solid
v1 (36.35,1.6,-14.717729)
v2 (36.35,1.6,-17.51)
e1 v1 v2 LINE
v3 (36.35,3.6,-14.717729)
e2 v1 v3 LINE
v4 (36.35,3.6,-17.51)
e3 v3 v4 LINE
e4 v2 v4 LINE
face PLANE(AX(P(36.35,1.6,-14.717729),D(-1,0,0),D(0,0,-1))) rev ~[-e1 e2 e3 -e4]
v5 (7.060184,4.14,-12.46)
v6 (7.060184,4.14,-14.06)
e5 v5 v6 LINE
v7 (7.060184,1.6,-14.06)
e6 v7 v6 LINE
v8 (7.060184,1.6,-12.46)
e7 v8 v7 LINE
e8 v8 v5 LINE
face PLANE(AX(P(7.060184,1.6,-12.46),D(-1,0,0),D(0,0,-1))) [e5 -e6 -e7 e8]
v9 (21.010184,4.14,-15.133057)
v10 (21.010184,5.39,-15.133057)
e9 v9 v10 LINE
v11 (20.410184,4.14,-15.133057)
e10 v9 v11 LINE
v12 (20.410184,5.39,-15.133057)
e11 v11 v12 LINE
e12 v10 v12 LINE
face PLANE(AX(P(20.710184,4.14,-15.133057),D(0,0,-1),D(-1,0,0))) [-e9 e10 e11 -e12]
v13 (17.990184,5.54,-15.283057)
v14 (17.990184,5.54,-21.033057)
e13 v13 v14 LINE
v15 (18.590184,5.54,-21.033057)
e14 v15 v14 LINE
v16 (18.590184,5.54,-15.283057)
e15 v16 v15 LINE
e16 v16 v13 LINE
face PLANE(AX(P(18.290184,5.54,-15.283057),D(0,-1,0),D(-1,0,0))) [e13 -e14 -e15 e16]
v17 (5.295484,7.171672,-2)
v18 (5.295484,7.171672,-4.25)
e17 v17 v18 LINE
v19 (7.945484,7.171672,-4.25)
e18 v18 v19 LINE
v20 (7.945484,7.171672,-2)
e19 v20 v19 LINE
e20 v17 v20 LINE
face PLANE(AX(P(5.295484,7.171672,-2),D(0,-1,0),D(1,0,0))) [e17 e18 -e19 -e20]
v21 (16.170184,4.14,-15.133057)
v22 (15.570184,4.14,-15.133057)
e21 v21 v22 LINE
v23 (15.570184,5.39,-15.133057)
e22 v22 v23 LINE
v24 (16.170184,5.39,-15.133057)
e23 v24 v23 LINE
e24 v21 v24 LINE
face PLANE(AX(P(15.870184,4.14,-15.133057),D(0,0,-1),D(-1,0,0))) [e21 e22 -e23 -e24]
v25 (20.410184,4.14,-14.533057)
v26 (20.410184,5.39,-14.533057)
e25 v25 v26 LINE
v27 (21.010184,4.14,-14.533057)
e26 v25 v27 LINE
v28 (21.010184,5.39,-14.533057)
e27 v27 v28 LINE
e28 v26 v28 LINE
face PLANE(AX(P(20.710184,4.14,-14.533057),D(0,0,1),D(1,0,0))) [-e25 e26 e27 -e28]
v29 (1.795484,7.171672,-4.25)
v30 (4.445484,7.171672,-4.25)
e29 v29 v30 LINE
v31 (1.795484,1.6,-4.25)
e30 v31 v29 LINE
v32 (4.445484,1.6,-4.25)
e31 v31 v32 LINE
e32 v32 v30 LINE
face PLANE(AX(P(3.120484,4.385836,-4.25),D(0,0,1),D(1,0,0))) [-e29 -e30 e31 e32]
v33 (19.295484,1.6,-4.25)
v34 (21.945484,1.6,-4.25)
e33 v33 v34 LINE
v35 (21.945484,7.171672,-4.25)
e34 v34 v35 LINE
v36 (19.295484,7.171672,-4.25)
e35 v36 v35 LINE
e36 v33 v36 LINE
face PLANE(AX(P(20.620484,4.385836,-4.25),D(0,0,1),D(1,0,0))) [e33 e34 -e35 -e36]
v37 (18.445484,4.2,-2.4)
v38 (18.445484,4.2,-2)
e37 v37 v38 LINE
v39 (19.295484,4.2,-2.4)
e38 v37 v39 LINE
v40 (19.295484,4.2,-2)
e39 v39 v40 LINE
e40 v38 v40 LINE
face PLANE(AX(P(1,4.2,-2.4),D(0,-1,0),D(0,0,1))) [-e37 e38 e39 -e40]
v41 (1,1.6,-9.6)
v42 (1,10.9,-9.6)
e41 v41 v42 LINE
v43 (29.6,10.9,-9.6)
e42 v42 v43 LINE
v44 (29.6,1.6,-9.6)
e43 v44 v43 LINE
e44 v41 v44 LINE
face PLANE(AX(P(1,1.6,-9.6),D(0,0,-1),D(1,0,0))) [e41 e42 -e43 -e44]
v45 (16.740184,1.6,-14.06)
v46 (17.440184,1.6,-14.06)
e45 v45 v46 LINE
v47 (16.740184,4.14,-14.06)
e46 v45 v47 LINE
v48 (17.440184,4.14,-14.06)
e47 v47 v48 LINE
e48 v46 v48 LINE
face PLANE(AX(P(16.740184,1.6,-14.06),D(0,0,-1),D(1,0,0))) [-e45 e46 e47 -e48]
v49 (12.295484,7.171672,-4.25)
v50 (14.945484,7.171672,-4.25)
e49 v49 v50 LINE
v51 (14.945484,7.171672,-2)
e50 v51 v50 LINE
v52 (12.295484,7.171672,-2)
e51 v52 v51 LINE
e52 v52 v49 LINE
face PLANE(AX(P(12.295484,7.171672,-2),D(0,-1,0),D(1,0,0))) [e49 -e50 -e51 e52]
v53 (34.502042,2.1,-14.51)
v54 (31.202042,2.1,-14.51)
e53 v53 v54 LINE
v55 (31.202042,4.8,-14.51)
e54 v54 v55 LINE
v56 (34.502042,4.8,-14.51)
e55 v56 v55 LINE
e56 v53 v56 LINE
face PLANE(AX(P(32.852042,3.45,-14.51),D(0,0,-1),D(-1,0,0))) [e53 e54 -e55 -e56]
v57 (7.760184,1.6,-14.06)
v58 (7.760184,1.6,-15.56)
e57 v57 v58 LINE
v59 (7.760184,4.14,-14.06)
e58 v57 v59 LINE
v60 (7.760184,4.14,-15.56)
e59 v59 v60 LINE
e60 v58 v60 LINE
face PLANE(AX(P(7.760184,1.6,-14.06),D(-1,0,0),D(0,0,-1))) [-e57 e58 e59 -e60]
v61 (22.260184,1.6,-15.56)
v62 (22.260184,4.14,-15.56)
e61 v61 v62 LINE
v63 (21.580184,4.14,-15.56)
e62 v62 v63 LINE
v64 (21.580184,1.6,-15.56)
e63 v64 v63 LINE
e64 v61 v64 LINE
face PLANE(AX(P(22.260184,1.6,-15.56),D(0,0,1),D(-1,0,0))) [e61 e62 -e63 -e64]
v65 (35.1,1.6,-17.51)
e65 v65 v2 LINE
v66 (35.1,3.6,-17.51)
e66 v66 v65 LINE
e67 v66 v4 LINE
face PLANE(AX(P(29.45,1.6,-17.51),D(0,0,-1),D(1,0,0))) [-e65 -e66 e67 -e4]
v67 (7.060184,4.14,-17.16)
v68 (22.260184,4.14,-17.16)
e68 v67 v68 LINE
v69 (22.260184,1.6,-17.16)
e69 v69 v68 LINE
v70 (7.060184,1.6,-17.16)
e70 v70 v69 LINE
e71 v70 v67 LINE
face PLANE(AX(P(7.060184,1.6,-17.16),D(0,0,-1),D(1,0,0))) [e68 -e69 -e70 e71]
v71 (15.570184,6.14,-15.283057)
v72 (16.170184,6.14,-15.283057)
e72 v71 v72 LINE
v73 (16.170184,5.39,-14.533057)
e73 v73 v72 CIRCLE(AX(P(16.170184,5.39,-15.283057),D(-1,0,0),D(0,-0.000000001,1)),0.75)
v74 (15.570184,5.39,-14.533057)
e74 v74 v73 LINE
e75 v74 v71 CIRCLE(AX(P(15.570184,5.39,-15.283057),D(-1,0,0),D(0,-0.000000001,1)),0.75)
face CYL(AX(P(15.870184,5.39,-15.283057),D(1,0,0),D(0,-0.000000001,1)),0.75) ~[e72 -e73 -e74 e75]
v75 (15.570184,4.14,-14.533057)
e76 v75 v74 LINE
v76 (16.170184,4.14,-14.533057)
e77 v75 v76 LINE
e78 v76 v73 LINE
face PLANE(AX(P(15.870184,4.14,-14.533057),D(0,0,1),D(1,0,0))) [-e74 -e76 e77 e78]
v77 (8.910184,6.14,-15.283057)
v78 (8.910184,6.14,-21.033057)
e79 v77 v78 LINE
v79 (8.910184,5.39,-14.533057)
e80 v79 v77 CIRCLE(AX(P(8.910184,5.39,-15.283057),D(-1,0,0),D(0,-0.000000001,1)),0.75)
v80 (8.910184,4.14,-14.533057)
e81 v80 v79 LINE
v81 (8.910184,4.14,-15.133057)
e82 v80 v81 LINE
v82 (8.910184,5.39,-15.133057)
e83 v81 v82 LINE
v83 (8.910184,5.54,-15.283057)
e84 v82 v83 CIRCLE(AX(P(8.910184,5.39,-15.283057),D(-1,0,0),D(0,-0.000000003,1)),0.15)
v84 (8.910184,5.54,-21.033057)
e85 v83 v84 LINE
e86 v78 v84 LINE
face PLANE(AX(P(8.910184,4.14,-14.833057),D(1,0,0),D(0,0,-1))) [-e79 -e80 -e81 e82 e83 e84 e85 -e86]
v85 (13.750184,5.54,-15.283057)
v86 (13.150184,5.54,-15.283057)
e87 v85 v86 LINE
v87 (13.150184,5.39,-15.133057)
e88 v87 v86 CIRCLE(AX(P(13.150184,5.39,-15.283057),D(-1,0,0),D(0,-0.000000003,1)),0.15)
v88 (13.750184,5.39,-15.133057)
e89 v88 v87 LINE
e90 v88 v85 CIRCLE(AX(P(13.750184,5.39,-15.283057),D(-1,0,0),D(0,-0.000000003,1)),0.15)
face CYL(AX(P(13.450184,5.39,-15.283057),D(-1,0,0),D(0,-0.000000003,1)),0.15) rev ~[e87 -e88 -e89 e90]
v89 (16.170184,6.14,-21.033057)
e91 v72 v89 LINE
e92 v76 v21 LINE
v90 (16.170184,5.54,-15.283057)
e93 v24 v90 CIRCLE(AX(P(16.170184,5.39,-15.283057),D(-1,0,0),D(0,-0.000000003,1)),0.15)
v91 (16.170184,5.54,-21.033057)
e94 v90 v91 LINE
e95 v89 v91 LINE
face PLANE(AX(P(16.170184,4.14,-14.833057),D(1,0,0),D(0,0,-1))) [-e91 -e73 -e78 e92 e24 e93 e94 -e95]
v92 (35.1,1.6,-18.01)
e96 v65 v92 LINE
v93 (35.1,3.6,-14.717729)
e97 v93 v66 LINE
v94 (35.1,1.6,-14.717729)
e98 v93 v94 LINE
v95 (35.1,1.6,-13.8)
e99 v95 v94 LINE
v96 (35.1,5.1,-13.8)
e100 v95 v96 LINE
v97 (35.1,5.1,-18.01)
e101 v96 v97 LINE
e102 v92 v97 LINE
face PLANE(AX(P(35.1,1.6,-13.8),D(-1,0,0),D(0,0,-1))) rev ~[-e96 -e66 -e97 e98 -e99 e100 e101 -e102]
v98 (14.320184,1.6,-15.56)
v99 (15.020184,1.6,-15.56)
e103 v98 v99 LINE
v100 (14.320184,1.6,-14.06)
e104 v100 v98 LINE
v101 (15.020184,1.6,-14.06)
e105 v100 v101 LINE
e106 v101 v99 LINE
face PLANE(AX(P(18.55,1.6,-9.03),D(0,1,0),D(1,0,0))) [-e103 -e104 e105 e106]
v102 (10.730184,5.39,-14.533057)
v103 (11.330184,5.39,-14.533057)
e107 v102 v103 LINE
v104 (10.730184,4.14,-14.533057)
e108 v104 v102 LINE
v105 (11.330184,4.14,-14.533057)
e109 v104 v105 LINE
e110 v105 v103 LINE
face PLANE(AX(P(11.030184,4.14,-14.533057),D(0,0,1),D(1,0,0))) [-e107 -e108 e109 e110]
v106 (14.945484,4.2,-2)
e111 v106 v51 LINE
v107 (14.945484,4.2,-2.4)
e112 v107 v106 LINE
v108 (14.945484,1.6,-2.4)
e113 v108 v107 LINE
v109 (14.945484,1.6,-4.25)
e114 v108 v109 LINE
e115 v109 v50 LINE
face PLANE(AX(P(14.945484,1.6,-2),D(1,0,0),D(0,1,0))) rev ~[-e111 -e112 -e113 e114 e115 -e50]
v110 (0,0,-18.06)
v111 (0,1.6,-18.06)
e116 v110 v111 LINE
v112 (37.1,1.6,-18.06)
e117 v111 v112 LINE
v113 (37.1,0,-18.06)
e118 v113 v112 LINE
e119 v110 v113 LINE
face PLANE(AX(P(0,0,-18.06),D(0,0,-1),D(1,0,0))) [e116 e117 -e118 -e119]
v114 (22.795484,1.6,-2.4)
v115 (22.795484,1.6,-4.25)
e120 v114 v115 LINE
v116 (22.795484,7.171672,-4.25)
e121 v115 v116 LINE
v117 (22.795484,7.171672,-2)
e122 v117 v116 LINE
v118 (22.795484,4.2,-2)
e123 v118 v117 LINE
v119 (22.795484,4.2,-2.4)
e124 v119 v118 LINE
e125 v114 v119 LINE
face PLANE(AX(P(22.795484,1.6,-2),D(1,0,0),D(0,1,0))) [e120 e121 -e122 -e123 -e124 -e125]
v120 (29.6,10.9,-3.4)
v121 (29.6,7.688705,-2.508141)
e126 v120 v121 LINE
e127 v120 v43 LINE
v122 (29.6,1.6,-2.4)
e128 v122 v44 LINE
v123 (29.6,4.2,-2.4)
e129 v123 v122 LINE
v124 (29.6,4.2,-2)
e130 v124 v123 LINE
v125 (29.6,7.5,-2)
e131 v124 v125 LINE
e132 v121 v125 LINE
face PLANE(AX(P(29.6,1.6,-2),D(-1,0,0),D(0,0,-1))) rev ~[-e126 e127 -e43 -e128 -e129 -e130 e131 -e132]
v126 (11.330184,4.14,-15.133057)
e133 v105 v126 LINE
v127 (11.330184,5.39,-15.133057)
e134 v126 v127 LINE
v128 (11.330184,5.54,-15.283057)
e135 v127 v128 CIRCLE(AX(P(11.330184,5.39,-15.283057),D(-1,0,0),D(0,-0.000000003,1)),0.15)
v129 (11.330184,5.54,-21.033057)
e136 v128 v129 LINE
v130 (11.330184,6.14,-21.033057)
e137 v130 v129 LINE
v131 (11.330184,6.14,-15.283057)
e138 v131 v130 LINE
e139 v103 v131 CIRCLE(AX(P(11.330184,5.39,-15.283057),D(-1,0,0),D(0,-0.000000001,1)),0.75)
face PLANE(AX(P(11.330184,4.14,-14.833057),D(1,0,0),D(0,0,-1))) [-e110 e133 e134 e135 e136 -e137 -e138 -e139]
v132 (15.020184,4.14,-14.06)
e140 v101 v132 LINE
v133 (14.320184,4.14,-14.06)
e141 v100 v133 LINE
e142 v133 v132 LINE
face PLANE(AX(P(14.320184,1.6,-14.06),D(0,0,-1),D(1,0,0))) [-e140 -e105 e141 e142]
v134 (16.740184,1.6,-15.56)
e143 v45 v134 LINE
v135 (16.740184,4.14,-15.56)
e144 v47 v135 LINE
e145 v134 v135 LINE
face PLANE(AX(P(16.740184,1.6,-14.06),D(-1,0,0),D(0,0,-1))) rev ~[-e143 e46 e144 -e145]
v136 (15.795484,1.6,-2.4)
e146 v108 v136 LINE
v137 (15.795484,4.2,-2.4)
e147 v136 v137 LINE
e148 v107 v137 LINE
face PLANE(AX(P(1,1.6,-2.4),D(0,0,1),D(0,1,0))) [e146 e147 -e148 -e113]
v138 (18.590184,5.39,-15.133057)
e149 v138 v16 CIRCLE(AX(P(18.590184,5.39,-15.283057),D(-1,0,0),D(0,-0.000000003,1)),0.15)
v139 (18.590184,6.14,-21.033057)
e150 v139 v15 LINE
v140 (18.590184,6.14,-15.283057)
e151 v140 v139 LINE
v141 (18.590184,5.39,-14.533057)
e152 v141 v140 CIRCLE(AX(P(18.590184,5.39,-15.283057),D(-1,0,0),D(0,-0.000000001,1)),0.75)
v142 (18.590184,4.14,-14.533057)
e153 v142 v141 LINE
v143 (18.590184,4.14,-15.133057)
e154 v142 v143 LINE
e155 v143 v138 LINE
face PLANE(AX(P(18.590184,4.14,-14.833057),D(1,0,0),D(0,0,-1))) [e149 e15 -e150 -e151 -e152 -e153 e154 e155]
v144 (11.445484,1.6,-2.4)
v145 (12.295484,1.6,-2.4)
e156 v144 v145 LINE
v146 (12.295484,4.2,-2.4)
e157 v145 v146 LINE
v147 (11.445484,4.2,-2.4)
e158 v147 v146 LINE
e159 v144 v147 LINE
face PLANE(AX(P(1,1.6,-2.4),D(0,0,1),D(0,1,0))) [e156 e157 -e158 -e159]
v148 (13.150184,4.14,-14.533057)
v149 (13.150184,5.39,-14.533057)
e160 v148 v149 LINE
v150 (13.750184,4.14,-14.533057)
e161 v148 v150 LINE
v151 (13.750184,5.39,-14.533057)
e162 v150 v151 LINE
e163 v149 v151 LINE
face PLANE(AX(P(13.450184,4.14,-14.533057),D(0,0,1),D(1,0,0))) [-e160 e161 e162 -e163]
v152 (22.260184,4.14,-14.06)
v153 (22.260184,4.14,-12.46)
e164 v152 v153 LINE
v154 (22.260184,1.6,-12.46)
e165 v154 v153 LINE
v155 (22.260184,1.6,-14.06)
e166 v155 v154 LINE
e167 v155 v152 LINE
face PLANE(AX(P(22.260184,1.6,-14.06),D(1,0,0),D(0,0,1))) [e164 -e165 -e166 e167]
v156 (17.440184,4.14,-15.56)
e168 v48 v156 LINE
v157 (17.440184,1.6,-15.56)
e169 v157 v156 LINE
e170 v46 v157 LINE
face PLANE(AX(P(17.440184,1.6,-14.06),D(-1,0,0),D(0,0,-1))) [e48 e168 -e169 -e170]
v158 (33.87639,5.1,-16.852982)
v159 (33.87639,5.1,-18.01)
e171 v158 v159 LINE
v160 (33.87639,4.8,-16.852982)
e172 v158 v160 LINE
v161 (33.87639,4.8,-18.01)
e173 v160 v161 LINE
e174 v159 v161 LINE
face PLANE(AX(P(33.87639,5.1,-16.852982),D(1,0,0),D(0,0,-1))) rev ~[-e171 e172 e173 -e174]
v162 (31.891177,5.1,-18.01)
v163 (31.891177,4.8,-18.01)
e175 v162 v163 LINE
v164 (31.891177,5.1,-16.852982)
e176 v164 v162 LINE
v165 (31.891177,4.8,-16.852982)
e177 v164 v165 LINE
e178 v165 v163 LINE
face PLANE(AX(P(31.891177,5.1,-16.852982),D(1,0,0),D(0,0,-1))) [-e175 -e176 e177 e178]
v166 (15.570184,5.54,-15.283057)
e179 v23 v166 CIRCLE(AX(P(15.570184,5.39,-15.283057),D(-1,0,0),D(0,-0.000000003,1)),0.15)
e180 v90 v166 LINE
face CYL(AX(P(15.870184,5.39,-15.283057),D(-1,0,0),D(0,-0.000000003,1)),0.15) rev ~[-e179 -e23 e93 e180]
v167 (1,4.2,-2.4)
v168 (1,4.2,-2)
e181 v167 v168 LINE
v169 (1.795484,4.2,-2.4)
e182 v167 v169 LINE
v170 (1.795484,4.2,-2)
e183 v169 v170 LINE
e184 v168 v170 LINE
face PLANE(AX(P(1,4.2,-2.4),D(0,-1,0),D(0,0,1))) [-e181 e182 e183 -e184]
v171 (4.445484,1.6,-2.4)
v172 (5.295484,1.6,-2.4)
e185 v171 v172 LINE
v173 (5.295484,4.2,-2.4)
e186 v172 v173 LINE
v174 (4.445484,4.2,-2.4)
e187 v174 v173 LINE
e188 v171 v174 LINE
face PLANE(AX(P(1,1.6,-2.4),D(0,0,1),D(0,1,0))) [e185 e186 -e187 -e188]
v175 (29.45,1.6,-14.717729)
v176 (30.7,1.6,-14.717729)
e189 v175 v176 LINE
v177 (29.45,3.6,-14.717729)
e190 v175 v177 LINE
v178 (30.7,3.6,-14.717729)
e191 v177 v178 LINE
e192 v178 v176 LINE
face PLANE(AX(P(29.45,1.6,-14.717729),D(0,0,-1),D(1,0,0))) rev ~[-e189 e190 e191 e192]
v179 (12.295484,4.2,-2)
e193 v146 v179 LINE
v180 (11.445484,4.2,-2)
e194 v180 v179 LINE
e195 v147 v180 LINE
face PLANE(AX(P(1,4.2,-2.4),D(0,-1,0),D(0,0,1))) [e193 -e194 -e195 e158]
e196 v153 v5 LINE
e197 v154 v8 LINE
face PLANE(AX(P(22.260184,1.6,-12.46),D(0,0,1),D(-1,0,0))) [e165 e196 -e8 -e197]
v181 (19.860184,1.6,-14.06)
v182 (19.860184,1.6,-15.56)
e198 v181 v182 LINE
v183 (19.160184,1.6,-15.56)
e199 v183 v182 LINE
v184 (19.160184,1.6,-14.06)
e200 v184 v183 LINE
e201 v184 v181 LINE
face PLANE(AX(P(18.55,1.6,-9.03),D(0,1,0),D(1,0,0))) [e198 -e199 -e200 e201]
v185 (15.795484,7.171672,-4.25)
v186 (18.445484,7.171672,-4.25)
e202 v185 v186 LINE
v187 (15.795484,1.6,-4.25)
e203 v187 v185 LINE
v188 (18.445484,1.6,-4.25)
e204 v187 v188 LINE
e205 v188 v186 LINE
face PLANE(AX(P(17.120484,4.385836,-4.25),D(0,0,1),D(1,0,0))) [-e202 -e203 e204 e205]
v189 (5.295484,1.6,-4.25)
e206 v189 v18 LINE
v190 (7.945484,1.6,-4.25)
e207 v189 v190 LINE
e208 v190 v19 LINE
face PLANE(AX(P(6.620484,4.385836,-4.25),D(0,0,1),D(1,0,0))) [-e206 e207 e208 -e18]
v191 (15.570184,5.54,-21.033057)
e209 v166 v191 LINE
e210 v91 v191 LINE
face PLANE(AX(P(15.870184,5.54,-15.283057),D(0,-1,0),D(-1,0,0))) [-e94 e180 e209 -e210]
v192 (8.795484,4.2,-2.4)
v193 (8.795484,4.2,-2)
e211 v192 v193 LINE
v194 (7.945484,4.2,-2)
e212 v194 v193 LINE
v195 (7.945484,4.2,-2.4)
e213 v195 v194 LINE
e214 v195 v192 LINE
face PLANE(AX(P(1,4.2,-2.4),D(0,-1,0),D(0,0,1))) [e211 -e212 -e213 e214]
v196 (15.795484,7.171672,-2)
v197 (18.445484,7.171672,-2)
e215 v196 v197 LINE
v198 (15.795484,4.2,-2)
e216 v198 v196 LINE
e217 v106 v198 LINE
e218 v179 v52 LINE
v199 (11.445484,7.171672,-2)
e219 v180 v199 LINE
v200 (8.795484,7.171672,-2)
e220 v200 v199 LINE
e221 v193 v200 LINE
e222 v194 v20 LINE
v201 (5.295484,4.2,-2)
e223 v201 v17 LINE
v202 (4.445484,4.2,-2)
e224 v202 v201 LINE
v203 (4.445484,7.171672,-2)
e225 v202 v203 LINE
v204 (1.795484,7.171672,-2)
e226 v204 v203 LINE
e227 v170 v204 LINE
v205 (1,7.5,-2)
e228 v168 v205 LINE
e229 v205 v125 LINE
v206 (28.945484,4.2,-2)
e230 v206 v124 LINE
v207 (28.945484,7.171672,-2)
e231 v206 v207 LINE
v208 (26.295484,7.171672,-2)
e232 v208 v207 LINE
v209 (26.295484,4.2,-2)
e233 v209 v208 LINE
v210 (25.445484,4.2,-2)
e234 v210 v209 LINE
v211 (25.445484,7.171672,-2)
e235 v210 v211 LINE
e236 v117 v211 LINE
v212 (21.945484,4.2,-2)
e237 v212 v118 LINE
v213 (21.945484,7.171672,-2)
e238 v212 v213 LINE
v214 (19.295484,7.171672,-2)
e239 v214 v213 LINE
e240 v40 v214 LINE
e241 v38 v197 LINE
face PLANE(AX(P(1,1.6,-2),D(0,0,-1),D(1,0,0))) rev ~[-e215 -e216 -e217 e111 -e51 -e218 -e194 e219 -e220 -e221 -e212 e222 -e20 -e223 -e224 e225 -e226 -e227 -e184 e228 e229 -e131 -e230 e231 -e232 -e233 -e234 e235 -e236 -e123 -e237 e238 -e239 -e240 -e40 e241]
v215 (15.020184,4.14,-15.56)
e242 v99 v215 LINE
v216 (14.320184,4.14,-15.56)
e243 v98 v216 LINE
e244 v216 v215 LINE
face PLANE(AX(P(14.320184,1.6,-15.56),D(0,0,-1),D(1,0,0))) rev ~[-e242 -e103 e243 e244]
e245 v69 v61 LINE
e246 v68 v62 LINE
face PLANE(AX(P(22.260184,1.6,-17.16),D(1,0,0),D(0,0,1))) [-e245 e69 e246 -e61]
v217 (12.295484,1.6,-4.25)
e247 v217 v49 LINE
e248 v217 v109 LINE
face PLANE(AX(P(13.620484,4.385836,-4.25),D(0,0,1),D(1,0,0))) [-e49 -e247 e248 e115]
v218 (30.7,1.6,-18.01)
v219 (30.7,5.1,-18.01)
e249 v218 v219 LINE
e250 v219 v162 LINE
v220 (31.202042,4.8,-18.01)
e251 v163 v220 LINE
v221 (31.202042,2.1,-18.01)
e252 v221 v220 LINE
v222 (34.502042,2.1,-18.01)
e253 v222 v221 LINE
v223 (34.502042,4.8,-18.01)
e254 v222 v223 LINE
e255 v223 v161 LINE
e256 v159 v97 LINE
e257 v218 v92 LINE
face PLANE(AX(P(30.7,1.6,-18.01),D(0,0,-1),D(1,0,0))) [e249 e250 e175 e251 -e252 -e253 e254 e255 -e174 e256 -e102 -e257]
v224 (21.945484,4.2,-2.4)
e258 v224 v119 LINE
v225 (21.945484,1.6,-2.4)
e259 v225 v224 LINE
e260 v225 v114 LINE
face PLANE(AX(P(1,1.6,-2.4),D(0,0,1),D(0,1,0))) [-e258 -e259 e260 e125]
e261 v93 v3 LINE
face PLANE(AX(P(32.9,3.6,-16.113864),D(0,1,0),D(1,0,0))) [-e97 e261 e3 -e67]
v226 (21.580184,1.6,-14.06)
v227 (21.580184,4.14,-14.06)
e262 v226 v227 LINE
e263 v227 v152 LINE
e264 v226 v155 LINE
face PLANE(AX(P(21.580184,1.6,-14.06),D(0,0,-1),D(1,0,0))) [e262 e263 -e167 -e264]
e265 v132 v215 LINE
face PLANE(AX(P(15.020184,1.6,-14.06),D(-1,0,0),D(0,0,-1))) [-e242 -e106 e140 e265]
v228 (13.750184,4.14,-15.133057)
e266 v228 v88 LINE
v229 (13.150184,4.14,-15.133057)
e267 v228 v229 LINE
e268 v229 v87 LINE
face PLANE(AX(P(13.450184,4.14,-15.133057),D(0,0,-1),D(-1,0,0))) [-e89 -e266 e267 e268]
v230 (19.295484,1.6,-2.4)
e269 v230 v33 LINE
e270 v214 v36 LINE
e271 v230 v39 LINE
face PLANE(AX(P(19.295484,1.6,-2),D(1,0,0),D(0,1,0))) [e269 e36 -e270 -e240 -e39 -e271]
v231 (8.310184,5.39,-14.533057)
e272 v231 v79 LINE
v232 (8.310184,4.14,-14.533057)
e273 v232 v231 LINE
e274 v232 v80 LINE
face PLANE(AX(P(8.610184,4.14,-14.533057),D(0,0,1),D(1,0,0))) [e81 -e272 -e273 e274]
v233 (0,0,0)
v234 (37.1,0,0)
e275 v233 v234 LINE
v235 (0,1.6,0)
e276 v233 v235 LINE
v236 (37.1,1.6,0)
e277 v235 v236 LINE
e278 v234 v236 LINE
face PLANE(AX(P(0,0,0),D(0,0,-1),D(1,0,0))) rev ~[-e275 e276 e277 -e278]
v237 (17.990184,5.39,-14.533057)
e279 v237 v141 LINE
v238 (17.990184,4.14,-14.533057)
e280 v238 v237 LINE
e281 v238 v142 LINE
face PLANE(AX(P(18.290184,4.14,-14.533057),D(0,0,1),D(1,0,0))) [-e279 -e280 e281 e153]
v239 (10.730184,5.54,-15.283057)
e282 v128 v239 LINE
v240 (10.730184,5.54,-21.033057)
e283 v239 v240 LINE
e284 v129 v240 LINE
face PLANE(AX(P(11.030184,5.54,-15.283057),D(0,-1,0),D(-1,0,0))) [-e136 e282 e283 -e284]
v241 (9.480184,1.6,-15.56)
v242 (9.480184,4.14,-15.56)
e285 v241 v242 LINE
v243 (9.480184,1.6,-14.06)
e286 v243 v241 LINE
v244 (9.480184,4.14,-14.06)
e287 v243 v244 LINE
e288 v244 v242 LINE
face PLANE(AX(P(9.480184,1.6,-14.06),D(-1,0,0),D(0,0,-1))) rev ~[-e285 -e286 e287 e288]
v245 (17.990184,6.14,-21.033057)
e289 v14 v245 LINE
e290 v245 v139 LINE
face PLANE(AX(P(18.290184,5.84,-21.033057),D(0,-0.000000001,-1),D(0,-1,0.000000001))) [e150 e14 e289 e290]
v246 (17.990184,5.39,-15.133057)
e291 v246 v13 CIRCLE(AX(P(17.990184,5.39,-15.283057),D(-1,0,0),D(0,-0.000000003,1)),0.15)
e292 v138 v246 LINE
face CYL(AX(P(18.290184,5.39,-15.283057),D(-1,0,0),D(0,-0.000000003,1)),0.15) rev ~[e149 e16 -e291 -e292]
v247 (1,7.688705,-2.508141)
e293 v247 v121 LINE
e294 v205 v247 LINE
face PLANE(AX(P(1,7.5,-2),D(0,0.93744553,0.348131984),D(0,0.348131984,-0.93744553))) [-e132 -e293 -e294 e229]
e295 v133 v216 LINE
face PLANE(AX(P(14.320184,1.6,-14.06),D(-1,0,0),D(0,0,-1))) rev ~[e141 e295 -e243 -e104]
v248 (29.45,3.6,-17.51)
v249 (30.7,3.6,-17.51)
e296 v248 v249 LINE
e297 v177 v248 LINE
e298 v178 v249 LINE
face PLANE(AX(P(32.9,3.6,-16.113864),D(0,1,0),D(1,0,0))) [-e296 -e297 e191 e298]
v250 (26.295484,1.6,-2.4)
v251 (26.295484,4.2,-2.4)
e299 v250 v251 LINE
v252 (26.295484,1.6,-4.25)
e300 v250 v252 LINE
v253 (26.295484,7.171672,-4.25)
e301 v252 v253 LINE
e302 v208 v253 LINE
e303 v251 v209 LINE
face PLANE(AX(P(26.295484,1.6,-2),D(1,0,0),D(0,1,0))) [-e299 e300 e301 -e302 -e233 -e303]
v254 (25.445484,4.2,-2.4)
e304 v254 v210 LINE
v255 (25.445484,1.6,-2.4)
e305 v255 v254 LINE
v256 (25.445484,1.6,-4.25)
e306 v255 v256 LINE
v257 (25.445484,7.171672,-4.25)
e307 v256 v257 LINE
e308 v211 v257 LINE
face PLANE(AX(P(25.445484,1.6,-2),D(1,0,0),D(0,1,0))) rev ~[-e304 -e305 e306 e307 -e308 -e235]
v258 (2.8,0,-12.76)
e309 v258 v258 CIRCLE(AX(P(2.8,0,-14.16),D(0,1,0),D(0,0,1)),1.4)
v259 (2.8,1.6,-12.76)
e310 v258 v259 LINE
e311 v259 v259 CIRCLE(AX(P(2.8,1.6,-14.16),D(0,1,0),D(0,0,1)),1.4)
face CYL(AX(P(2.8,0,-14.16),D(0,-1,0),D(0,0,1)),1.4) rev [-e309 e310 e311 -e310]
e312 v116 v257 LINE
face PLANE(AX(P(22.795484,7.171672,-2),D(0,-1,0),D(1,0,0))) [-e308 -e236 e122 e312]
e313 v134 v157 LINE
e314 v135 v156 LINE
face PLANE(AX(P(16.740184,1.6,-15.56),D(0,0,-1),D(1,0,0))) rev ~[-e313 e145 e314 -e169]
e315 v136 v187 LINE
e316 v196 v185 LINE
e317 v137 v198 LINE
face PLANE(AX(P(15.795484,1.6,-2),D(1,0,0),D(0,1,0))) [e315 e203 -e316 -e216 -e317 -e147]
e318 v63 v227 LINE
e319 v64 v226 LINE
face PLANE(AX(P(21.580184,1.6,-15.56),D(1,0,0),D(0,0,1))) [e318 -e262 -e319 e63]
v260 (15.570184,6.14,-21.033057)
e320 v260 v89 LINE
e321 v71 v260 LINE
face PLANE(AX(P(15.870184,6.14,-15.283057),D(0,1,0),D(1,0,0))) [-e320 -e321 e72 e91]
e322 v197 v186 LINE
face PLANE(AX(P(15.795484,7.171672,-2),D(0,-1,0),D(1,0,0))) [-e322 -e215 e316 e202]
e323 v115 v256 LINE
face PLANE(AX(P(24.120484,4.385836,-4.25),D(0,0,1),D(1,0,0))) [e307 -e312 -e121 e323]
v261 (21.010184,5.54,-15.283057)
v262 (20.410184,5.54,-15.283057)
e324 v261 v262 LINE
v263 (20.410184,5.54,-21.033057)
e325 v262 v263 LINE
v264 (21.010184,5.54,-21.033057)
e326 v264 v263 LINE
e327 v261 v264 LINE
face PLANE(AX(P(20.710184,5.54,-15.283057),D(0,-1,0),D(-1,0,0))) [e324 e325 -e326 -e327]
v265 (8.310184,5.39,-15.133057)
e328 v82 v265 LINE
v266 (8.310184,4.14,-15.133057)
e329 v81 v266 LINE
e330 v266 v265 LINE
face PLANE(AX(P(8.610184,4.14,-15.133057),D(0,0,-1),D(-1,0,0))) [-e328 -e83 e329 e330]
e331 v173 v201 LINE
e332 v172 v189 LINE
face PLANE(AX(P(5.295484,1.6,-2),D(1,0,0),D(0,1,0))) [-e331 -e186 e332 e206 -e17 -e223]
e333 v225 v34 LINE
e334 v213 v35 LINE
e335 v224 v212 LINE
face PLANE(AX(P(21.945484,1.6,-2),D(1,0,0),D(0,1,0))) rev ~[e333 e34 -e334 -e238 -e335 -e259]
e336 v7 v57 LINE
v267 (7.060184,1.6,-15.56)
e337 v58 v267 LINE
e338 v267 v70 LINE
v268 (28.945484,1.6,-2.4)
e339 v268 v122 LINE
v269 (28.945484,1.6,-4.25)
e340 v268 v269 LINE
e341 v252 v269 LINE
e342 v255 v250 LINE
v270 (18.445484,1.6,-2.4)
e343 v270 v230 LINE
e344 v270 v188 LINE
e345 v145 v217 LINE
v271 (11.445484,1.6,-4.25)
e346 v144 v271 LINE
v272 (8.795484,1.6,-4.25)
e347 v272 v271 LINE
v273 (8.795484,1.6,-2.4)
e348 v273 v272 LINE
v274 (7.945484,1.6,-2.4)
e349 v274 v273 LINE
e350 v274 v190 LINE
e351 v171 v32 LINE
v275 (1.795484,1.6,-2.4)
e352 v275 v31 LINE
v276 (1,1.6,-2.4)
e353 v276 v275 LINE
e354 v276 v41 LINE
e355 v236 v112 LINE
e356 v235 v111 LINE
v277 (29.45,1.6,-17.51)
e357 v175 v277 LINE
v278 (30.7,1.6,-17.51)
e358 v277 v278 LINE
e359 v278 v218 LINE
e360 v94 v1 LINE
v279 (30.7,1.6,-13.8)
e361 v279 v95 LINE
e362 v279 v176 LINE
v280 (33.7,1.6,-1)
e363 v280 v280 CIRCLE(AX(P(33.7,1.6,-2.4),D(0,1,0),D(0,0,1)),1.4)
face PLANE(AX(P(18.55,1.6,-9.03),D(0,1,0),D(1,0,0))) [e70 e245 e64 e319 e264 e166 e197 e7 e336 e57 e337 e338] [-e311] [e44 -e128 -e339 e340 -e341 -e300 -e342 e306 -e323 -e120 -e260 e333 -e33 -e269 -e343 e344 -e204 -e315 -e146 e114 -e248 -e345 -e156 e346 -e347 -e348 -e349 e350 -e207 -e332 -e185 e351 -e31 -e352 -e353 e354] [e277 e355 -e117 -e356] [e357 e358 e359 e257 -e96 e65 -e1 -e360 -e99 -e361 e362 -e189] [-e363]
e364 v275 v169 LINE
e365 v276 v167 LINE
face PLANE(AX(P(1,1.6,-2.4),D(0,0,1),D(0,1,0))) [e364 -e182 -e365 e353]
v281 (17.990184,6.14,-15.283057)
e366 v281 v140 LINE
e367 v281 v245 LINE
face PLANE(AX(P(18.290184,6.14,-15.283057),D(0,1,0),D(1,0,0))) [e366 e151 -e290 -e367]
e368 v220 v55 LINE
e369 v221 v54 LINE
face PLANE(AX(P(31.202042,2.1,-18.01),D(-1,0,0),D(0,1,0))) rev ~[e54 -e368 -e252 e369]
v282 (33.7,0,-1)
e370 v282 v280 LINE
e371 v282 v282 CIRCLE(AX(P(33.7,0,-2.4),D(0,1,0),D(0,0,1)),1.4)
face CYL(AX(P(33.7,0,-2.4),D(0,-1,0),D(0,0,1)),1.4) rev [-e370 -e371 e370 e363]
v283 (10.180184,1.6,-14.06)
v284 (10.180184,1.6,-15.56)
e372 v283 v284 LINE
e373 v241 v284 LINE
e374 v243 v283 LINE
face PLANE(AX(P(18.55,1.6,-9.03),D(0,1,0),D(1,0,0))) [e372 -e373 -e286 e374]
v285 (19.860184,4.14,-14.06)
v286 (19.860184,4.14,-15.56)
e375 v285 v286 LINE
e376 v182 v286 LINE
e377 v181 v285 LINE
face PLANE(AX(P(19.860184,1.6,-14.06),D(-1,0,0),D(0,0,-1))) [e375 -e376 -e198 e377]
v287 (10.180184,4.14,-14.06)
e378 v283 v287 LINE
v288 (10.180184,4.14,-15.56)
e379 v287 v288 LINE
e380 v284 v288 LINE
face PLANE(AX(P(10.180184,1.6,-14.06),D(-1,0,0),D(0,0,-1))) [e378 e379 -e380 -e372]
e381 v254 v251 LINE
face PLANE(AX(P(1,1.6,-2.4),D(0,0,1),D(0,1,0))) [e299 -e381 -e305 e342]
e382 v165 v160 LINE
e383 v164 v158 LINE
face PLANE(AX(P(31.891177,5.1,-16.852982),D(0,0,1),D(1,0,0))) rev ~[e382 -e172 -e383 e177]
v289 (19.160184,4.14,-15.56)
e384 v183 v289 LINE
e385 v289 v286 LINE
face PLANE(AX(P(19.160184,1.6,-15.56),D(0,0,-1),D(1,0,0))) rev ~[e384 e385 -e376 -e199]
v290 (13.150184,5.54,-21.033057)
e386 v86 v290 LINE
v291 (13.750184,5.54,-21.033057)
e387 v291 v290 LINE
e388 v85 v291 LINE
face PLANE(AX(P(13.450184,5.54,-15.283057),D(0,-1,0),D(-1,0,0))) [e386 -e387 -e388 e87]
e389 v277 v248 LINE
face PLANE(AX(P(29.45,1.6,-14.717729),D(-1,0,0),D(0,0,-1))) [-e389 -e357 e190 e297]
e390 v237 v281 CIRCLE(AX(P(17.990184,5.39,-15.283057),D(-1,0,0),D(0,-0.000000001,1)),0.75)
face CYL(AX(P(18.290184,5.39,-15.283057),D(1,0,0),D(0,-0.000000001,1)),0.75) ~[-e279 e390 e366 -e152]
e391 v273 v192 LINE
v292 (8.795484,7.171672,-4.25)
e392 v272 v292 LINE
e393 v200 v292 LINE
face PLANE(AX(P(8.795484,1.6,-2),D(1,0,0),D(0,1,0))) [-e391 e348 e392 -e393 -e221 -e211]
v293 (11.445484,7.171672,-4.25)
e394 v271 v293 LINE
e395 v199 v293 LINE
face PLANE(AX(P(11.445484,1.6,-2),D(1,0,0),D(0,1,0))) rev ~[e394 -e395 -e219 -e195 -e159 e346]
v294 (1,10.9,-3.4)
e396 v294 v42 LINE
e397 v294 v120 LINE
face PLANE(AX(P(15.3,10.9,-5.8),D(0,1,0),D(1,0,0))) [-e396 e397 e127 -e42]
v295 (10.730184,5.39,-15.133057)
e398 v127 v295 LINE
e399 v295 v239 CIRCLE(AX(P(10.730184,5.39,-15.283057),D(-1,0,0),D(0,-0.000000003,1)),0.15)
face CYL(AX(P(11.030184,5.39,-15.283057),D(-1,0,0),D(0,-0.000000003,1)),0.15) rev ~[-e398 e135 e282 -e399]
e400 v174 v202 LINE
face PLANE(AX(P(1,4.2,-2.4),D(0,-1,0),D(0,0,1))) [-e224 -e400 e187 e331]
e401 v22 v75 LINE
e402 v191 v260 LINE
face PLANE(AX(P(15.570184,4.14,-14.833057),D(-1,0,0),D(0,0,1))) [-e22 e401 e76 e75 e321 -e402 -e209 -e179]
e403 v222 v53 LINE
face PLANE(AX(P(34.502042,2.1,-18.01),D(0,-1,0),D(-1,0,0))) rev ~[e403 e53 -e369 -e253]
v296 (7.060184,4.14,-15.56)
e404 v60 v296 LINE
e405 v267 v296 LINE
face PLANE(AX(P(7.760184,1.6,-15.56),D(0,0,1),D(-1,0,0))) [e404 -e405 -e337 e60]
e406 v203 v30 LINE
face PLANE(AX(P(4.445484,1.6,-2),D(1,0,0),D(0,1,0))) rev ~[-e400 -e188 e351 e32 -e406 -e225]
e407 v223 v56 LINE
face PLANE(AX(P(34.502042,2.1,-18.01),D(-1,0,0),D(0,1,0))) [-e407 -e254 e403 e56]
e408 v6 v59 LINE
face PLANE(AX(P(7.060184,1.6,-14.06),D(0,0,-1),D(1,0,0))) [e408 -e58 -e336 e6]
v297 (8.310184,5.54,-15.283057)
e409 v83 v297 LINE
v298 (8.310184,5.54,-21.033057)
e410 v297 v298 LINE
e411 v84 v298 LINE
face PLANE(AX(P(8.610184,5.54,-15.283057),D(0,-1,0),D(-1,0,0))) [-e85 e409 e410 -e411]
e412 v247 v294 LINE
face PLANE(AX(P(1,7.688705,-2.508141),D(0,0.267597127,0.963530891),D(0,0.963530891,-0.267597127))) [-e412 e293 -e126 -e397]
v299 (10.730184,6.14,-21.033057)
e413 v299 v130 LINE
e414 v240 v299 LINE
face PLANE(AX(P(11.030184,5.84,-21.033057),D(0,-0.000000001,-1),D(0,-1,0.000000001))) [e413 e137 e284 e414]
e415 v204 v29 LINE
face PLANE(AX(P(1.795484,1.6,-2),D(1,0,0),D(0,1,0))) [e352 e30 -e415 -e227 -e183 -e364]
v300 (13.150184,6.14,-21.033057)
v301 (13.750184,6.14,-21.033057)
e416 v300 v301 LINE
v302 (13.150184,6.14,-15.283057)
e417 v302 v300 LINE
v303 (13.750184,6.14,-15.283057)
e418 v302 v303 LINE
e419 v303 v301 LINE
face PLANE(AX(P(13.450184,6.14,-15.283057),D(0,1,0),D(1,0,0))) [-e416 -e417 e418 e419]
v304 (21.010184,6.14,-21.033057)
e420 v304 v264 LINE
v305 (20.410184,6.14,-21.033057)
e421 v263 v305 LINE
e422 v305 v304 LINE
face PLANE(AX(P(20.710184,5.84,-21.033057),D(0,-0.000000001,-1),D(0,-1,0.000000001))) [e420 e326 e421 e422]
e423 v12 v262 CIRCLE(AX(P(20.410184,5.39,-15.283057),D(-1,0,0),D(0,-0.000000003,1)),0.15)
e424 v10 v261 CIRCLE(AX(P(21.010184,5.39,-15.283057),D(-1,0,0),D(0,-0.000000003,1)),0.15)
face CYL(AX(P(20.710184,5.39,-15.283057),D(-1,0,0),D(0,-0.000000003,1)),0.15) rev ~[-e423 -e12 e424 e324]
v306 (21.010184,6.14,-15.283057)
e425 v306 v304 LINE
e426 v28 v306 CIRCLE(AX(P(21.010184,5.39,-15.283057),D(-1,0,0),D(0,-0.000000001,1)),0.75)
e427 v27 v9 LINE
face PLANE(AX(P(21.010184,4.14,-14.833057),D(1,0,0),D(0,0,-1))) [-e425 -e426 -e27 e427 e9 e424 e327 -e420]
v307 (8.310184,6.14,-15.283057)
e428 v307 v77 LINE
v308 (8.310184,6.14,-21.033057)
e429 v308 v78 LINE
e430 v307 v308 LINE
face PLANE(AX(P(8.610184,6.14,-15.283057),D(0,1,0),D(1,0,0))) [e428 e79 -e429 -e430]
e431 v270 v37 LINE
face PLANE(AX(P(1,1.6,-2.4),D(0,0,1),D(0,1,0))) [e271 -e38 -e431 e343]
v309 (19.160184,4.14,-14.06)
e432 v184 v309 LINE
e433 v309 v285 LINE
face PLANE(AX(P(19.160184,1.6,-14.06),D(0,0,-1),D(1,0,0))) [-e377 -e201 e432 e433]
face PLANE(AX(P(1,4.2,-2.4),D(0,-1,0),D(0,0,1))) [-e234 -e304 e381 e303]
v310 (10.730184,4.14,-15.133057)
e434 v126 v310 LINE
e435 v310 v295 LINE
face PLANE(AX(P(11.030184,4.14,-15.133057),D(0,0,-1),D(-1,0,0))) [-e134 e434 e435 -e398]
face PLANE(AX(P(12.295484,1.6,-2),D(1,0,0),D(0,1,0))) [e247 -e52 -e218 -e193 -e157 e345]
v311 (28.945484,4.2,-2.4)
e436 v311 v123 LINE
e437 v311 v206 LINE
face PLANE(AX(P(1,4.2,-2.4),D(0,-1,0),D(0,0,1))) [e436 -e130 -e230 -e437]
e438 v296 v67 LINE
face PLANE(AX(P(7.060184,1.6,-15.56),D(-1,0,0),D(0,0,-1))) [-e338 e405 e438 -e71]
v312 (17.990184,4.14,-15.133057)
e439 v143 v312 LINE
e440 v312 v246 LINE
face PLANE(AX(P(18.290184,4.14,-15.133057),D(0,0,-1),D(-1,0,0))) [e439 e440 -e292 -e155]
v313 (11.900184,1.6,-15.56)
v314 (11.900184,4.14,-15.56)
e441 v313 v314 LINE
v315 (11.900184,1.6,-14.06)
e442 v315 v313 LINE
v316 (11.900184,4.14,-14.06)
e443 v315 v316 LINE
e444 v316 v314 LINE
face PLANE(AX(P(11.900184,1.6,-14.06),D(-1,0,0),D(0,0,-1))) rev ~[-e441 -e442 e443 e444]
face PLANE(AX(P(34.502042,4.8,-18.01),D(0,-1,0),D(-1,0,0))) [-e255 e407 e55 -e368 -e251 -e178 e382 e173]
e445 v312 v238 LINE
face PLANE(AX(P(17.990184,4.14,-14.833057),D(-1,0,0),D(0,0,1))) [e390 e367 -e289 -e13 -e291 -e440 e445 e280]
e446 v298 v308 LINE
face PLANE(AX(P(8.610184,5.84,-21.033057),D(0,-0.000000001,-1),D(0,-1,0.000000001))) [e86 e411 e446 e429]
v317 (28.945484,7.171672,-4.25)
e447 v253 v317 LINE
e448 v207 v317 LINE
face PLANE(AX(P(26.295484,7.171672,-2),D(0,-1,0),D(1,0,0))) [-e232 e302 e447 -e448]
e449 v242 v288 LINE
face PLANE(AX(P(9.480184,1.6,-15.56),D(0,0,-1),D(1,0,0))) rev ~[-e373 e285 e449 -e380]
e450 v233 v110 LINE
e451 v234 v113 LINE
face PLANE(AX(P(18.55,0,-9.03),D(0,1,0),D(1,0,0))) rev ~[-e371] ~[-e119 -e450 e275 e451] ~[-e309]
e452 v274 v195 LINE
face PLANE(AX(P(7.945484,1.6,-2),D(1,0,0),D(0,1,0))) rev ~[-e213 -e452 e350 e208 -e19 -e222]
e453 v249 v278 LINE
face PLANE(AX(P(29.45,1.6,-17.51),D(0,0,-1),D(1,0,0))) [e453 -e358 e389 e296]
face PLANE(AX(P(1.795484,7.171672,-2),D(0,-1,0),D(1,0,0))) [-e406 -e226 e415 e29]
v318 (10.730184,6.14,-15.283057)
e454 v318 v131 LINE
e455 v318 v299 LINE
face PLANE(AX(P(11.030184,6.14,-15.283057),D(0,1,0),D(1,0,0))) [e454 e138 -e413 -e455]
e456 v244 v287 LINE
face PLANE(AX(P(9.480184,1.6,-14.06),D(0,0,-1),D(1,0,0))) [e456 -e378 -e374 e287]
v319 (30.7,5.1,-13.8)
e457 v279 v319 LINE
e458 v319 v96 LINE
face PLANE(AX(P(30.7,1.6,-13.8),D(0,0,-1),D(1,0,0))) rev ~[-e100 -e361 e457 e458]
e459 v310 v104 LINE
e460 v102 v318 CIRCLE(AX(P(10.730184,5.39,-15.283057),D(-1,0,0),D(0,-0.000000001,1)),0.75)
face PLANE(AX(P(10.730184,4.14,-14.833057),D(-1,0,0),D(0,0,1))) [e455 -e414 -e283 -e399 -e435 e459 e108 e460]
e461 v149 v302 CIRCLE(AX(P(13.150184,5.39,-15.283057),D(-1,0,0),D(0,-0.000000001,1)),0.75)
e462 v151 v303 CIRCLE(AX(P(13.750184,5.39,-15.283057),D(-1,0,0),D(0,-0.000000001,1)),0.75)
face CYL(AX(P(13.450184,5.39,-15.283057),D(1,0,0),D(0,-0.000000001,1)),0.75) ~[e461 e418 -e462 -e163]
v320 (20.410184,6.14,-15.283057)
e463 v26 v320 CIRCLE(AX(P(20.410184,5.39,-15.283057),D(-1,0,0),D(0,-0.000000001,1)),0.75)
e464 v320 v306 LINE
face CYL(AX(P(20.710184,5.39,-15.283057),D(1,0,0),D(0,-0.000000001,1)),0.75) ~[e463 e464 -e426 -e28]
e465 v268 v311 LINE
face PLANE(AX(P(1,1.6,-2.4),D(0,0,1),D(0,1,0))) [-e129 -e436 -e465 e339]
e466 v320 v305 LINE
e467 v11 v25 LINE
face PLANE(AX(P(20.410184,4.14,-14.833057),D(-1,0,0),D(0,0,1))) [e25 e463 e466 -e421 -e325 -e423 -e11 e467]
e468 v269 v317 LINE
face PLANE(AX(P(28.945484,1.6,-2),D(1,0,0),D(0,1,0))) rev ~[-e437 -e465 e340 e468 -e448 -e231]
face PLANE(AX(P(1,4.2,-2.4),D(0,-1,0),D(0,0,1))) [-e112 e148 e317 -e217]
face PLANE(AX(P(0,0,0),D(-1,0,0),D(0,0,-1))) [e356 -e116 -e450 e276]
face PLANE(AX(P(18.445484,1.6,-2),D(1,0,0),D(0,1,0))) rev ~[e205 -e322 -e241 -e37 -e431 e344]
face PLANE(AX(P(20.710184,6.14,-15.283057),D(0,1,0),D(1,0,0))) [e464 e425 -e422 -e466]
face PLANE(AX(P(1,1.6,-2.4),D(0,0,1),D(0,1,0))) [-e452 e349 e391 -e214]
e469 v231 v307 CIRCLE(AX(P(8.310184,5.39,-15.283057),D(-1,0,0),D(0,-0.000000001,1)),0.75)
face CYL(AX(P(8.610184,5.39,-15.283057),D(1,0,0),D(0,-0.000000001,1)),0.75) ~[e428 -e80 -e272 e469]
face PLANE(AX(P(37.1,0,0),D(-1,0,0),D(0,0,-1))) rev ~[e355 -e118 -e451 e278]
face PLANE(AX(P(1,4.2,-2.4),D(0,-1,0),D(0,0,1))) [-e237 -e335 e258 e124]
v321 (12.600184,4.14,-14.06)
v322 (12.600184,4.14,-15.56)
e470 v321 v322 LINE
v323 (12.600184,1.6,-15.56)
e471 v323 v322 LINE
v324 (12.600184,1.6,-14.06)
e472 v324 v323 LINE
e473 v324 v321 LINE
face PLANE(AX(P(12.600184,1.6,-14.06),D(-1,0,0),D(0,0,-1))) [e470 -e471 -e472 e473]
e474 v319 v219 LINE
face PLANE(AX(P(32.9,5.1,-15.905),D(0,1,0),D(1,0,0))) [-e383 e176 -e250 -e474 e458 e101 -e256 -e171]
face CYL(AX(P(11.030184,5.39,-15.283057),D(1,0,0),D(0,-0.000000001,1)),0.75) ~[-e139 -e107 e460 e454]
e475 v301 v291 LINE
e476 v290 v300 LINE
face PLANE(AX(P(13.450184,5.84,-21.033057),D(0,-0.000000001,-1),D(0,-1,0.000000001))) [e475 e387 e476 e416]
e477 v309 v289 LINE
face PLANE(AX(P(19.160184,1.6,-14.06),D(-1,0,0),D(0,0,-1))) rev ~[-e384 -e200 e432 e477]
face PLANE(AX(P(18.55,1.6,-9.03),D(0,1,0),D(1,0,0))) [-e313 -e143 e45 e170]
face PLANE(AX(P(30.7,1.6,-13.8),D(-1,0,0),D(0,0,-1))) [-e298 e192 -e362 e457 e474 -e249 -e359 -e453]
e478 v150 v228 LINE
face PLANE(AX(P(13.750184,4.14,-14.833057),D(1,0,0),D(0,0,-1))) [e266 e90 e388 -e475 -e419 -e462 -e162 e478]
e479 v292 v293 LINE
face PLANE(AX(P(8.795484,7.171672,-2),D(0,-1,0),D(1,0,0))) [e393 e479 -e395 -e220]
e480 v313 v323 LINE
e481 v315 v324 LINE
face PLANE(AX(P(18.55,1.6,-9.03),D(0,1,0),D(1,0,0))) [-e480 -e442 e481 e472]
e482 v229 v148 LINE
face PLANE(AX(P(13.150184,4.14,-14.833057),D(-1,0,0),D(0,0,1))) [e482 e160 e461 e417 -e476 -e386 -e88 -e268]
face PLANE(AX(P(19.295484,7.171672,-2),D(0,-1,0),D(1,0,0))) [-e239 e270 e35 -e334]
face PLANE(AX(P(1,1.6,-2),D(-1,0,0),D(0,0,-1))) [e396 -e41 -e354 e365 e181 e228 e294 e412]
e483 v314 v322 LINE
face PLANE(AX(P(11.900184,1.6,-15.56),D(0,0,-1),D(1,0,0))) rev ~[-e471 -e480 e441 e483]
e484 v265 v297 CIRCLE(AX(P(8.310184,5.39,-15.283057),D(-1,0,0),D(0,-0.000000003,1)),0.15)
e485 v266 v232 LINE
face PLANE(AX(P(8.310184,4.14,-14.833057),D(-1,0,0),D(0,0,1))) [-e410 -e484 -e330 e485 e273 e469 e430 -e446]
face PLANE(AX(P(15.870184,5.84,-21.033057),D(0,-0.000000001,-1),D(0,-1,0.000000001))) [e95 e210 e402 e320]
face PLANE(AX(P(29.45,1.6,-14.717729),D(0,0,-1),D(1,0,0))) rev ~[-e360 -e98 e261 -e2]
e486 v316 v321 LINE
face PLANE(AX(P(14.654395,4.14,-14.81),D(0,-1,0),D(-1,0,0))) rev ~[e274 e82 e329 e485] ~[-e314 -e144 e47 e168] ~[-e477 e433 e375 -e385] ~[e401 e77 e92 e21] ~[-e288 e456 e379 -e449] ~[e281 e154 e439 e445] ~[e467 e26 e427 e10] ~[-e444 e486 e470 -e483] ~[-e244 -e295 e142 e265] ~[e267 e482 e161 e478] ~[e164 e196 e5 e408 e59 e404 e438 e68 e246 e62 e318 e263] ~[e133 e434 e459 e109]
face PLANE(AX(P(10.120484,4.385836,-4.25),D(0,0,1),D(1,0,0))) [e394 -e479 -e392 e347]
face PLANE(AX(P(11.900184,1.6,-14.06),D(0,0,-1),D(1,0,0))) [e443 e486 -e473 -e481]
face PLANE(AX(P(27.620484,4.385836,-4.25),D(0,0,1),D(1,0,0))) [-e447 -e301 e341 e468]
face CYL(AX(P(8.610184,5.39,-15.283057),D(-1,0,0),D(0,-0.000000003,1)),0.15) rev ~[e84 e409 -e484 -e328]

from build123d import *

# Parameters (mm, degrees)
SKETCH1_W           = 37.1
SKETCH1_H           = 18.06
SKETCH1_R           = 1.4
BOSS_EXTRUDE1_DEPTH = 1.6
SKETCH2_W           = 0.7
SKETCH2_H           = 1.5
BOSS_EXTRUDE2_DEPTH = 2.54
SKETCH4_W           = 0.6
SKETCH4_H           = 0.6
LPATTERN1_COUNT     = 6
LPATTERN1_PITCH     = 2.42
SKETCH6_W           = 28.6
SKETCH6_H           = 7.6
BOSS_EXTRUDE3_DEPTH = 9.3
CUT_EXTRUDE1_REACH  = 38.1
SKETCH7_W           = 0.4
SKETCH7_H           = 2.6
SKETCH8_W           = 2.65
SKETCH8_H           = 5.571671588
CUT_EXTRUDE2_DEPTH  = 2.25
SKETCH9_W           = 4.4
SKETCH9_H           = 4.21
BOSS_EXTRUDE4_DEPTH = 3.5
SKETCH10_W          = 6.9
SKETCH10_H          = 2.792271398
BOSS_EXTRUDE5_DEPTH = 2
SKETCH11_W          = 3.3
SKETCH11_H          = 2.7
CUT_EXTRUDE3_DEPTH  = 3.5
CUT_EXTRUDE4_REACH  = 7.1
SKETCH12_W          = 1.985213288
SKETCH12_H          = 1.157017581


with BuildPart() as part:
    # Sketch1 → Boss-Extrude1 (new body)
    with BuildSketch(Plane(origin=(0, 0, 0), x_dir=(1, 0, 0), z_dir=(0, 1, 0))):
        with Locations((18.55, 9.03)):
            Rectangle(SKETCH1_W, SKETCH1_H)
        with Locations(Location((33.7, 2.4, 0), (0, 0, 270))):  # turned: the seam where the file's is
            Circle(SKETCH1_R, mode=Mode.SUBTRACT)
        with Locations(Location((2.8, 14.16, 0), (0, 0, 270))):  # turned: the seam where the file's is
            Circle(SKETCH1_R, mode=Mode.SUBTRACT)
    extrude(amount=BOSS_EXTRUDE1_DEPTH)

    # Sketch2 → Boss-Extrude2 (add)
    with BuildSketch(Plane(origin=(0, 1.6, 0), x_dir=(1, 0, 0), z_dir=(0, 1, 0))):
        Polygon((7.060184456, 17.16), (22.260184456, 17.16), (22.260184456, 15.56), (21.580184456, 15.56), (21.580184456, 14.06), (22.260184456, 14.06), (22.260184456, 12.46), (7.060184456, 12.46), (7.060184456, 14.06), (7.760184456, 14.06), (7.760184456, 15.56), (7.060184456, 15.56), align=None)
        with Locations((9.830184456, 14.81)):
            Rectangle(SKETCH2_W, SKETCH2_H, mode=Mode.SUBTRACT)
        with Locations((12.250184456, 14.81)):
            Rectangle(SKETCH2_W, SKETCH2_H, mode=Mode.SUBTRACT)
        with Locations((14.670184456, 14.81)):
            Rectangle(SKETCH2_W, SKETCH2_H, mode=Mode.SUBTRACT)
        with Locations((17.090184456, 14.81)):
            Rectangle(SKETCH2_W, SKETCH2_H, mode=Mode.SUBTRACT)
        with Locations((19.510184456, 14.81)):
            Rectangle(SKETCH2_W, SKETCH2_H, mode=Mode.SUBTRACT)
    extrude(amount=BOSS_EXTRUDE2_DEPTH)

    # Sweep1: sweep along a path in Sketch3
    with BuildLine(Plane.ZY.offset(-8.610184456)) as sweep1_path:
        Line((-14.533057121, 4.14), (-14.533057121, 5.39))
        ThreePointArc((-14.533057121, 5.39), (-14.752727035, 5.920330086), (-15.283057121, 6.14))
        Line((-15.283057121, 6.14), (-21.033057121, 6.14))
    # Sketch4 → Sweep1 (sweep)
    with BuildSketch(Plane(origin=(0, 4.14, 0), x_dir=(1, 0, 0), z_dir=(0, 1, 0))):
        with Locations((8.610184456, 14.833057121)):
            Rectangle(SKETCH4_W, SKETCH4_H)
    sweep1 = sweep(path=sweep1_path.line)

    # LPattern1: Sweep1 ×6
    with Locations(*[(i * LPATTERN1_PITCH, 0, 0) for i in range(1, LPATTERN1_COUNT)]):
        add(sweep1)

    # Sketch6 → Boss-Extrude3 (add)
    with BuildSketch(Plane(origin=(0, 1.6, 0), x_dir=(1, 0, 0), z_dir=(0, 1, 0))):
        with Locations((15.3, 5.8)):
            Rectangle(SKETCH6_W, SKETCH6_H)
    extrude(amount=BOSS_EXTRUDE3_DEPTH)

    # Sketch7 → Cut-Extrude1 (cut, up to next)
    with BuildSketch(Plane.ZY.offset(-1), mode=Mode.PRIVATE) as cut_extrude1_sk1:
        Polygon((-2, 7.5), (-2.508141267, 7.68870454), (-3.4, 10.9), (-2, 10.9), align=None)
    cut_extrude1_tool1 = extrude(cut_extrude1_sk1.sketch, amount=-CUT_EXTRUDE1_REACH, mode=Mode.PRIVATE) & part.part
    add(cut_extrude1_tool1.solids().sort_by_distance((1, 9.514948, -2.506498))[0], mode=Mode.SUBTRACT)
    # Sketch7 → Cut-Extrude1 (cut, up to next)
    with BuildSketch(Plane.ZY.offset(-1), mode=Mode.PRIVATE) as cut_extrude1_sk2:
        with Locations((-2.2, 2.9)):
            Rectangle(SKETCH7_W, SKETCH7_H)
    cut_extrude1_tool2 = extrude(cut_extrude1_sk2.sketch, amount=-CUT_EXTRUDE1_REACH, mode=Mode.PRIVATE) & part.part
    add(cut_extrude1_tool2.solids().sort_by_distance((1, 2.9, -2.2))[0], mode=Mode.SUBTRACT)

    # Sketch8 → Cut-Extrude2 (cut)
    with BuildSketch(Plane.XY.offset(-2)):
        with Locations((3.120484252, 4.385835794)):
            Rectangle(SKETCH8_W, SKETCH8_H)
        with Locations((6.620484252, 4.385835794)):
            Rectangle(SKETCH8_W, SKETCH8_H)
        with Locations((10.120484252, 4.385835794)):
            Rectangle(SKETCH8_W, SKETCH8_H)
        with Locations((13.620484252, 4.385835794)):
            Rectangle(SKETCH8_W, SKETCH8_H)
        with Locations((17.120484252, 4.385835794)):
            Rectangle(SKETCH8_W, SKETCH8_H)
        with Locations((20.620484252, 4.385835794)):
            Rectangle(SKETCH8_W, SKETCH8_H)
        with Locations((24.120484252, 4.385835794)):
            Rectangle(SKETCH8_W, SKETCH8_H)
        with Locations((27.620484252, 4.385835794)):
            Rectangle(SKETCH8_W, SKETCH8_H)
    extrude(amount=-CUT_EXTRUDE2_DEPTH, mode=Mode.SUBTRACT)

    # Sketch9 → Boss-Extrude4 (add)
    with BuildSketch(Plane(origin=(0, 1.6, 0), x_dir=(1, 0, 0), z_dir=(0, 1, 0))):
        with Locations((32.9, 15.905)):
            Rectangle(SKETCH9_W, SKETCH9_H)
    extrude(amount=BOSS_EXTRUDE4_DEPTH)

    # Sketch10 → Boss-Extrude5 (add)
    with BuildSketch(Plane(origin=(0, 1.6, 0), x_dir=(1, 0, 0), z_dir=(0, 1, 0))):
        with Locations((32.9, 16.113864301)):
            Rectangle(SKETCH10_W, SKETCH10_H)
    extrude(amount=BOSS_EXTRUDE5_DEPTH)

    # Sketch11 → Cut-Extrude3 (cut)
    with BuildSketch(Plane(origin=(0, 0, -18.01), x_dir=(-1, 0, 0), z_dir=(0, 0, -1))):
        with Locations((-32.852042443, 3.45)):
            Rectangle(SKETCH11_W, SKETCH11_H)
    extrude(amount=-CUT_EXTRUDE3_DEPTH, mode=Mode.SUBTRACT)

    # Sketch12 → Cut-Extrude4 (cut, up to next)
    with BuildSketch(Plane(origin=(0, 5.1, 0), x_dir=(1, 0, 0), z_dir=(0, 1, 0)), mode=Mode.PRIVATE) as cut_extrude4_sk1:
        with Locations((32.883783696, 17.43149121)):
            Rectangle(SKETCH12_W, SKETCH12_H)
    cut_extrude4_tool1 = extrude(cut_extrude4_sk1.sketch, amount=-CUT_EXTRUDE4_REACH, mode=Mode.PRIVATE) & part.part
    add(cut_extrude4_tool1.solids().sort_by_distance((32.883784, 5.1, -17.431491))[0], mode=Mode.SUBTRACT)


solid = part.part
